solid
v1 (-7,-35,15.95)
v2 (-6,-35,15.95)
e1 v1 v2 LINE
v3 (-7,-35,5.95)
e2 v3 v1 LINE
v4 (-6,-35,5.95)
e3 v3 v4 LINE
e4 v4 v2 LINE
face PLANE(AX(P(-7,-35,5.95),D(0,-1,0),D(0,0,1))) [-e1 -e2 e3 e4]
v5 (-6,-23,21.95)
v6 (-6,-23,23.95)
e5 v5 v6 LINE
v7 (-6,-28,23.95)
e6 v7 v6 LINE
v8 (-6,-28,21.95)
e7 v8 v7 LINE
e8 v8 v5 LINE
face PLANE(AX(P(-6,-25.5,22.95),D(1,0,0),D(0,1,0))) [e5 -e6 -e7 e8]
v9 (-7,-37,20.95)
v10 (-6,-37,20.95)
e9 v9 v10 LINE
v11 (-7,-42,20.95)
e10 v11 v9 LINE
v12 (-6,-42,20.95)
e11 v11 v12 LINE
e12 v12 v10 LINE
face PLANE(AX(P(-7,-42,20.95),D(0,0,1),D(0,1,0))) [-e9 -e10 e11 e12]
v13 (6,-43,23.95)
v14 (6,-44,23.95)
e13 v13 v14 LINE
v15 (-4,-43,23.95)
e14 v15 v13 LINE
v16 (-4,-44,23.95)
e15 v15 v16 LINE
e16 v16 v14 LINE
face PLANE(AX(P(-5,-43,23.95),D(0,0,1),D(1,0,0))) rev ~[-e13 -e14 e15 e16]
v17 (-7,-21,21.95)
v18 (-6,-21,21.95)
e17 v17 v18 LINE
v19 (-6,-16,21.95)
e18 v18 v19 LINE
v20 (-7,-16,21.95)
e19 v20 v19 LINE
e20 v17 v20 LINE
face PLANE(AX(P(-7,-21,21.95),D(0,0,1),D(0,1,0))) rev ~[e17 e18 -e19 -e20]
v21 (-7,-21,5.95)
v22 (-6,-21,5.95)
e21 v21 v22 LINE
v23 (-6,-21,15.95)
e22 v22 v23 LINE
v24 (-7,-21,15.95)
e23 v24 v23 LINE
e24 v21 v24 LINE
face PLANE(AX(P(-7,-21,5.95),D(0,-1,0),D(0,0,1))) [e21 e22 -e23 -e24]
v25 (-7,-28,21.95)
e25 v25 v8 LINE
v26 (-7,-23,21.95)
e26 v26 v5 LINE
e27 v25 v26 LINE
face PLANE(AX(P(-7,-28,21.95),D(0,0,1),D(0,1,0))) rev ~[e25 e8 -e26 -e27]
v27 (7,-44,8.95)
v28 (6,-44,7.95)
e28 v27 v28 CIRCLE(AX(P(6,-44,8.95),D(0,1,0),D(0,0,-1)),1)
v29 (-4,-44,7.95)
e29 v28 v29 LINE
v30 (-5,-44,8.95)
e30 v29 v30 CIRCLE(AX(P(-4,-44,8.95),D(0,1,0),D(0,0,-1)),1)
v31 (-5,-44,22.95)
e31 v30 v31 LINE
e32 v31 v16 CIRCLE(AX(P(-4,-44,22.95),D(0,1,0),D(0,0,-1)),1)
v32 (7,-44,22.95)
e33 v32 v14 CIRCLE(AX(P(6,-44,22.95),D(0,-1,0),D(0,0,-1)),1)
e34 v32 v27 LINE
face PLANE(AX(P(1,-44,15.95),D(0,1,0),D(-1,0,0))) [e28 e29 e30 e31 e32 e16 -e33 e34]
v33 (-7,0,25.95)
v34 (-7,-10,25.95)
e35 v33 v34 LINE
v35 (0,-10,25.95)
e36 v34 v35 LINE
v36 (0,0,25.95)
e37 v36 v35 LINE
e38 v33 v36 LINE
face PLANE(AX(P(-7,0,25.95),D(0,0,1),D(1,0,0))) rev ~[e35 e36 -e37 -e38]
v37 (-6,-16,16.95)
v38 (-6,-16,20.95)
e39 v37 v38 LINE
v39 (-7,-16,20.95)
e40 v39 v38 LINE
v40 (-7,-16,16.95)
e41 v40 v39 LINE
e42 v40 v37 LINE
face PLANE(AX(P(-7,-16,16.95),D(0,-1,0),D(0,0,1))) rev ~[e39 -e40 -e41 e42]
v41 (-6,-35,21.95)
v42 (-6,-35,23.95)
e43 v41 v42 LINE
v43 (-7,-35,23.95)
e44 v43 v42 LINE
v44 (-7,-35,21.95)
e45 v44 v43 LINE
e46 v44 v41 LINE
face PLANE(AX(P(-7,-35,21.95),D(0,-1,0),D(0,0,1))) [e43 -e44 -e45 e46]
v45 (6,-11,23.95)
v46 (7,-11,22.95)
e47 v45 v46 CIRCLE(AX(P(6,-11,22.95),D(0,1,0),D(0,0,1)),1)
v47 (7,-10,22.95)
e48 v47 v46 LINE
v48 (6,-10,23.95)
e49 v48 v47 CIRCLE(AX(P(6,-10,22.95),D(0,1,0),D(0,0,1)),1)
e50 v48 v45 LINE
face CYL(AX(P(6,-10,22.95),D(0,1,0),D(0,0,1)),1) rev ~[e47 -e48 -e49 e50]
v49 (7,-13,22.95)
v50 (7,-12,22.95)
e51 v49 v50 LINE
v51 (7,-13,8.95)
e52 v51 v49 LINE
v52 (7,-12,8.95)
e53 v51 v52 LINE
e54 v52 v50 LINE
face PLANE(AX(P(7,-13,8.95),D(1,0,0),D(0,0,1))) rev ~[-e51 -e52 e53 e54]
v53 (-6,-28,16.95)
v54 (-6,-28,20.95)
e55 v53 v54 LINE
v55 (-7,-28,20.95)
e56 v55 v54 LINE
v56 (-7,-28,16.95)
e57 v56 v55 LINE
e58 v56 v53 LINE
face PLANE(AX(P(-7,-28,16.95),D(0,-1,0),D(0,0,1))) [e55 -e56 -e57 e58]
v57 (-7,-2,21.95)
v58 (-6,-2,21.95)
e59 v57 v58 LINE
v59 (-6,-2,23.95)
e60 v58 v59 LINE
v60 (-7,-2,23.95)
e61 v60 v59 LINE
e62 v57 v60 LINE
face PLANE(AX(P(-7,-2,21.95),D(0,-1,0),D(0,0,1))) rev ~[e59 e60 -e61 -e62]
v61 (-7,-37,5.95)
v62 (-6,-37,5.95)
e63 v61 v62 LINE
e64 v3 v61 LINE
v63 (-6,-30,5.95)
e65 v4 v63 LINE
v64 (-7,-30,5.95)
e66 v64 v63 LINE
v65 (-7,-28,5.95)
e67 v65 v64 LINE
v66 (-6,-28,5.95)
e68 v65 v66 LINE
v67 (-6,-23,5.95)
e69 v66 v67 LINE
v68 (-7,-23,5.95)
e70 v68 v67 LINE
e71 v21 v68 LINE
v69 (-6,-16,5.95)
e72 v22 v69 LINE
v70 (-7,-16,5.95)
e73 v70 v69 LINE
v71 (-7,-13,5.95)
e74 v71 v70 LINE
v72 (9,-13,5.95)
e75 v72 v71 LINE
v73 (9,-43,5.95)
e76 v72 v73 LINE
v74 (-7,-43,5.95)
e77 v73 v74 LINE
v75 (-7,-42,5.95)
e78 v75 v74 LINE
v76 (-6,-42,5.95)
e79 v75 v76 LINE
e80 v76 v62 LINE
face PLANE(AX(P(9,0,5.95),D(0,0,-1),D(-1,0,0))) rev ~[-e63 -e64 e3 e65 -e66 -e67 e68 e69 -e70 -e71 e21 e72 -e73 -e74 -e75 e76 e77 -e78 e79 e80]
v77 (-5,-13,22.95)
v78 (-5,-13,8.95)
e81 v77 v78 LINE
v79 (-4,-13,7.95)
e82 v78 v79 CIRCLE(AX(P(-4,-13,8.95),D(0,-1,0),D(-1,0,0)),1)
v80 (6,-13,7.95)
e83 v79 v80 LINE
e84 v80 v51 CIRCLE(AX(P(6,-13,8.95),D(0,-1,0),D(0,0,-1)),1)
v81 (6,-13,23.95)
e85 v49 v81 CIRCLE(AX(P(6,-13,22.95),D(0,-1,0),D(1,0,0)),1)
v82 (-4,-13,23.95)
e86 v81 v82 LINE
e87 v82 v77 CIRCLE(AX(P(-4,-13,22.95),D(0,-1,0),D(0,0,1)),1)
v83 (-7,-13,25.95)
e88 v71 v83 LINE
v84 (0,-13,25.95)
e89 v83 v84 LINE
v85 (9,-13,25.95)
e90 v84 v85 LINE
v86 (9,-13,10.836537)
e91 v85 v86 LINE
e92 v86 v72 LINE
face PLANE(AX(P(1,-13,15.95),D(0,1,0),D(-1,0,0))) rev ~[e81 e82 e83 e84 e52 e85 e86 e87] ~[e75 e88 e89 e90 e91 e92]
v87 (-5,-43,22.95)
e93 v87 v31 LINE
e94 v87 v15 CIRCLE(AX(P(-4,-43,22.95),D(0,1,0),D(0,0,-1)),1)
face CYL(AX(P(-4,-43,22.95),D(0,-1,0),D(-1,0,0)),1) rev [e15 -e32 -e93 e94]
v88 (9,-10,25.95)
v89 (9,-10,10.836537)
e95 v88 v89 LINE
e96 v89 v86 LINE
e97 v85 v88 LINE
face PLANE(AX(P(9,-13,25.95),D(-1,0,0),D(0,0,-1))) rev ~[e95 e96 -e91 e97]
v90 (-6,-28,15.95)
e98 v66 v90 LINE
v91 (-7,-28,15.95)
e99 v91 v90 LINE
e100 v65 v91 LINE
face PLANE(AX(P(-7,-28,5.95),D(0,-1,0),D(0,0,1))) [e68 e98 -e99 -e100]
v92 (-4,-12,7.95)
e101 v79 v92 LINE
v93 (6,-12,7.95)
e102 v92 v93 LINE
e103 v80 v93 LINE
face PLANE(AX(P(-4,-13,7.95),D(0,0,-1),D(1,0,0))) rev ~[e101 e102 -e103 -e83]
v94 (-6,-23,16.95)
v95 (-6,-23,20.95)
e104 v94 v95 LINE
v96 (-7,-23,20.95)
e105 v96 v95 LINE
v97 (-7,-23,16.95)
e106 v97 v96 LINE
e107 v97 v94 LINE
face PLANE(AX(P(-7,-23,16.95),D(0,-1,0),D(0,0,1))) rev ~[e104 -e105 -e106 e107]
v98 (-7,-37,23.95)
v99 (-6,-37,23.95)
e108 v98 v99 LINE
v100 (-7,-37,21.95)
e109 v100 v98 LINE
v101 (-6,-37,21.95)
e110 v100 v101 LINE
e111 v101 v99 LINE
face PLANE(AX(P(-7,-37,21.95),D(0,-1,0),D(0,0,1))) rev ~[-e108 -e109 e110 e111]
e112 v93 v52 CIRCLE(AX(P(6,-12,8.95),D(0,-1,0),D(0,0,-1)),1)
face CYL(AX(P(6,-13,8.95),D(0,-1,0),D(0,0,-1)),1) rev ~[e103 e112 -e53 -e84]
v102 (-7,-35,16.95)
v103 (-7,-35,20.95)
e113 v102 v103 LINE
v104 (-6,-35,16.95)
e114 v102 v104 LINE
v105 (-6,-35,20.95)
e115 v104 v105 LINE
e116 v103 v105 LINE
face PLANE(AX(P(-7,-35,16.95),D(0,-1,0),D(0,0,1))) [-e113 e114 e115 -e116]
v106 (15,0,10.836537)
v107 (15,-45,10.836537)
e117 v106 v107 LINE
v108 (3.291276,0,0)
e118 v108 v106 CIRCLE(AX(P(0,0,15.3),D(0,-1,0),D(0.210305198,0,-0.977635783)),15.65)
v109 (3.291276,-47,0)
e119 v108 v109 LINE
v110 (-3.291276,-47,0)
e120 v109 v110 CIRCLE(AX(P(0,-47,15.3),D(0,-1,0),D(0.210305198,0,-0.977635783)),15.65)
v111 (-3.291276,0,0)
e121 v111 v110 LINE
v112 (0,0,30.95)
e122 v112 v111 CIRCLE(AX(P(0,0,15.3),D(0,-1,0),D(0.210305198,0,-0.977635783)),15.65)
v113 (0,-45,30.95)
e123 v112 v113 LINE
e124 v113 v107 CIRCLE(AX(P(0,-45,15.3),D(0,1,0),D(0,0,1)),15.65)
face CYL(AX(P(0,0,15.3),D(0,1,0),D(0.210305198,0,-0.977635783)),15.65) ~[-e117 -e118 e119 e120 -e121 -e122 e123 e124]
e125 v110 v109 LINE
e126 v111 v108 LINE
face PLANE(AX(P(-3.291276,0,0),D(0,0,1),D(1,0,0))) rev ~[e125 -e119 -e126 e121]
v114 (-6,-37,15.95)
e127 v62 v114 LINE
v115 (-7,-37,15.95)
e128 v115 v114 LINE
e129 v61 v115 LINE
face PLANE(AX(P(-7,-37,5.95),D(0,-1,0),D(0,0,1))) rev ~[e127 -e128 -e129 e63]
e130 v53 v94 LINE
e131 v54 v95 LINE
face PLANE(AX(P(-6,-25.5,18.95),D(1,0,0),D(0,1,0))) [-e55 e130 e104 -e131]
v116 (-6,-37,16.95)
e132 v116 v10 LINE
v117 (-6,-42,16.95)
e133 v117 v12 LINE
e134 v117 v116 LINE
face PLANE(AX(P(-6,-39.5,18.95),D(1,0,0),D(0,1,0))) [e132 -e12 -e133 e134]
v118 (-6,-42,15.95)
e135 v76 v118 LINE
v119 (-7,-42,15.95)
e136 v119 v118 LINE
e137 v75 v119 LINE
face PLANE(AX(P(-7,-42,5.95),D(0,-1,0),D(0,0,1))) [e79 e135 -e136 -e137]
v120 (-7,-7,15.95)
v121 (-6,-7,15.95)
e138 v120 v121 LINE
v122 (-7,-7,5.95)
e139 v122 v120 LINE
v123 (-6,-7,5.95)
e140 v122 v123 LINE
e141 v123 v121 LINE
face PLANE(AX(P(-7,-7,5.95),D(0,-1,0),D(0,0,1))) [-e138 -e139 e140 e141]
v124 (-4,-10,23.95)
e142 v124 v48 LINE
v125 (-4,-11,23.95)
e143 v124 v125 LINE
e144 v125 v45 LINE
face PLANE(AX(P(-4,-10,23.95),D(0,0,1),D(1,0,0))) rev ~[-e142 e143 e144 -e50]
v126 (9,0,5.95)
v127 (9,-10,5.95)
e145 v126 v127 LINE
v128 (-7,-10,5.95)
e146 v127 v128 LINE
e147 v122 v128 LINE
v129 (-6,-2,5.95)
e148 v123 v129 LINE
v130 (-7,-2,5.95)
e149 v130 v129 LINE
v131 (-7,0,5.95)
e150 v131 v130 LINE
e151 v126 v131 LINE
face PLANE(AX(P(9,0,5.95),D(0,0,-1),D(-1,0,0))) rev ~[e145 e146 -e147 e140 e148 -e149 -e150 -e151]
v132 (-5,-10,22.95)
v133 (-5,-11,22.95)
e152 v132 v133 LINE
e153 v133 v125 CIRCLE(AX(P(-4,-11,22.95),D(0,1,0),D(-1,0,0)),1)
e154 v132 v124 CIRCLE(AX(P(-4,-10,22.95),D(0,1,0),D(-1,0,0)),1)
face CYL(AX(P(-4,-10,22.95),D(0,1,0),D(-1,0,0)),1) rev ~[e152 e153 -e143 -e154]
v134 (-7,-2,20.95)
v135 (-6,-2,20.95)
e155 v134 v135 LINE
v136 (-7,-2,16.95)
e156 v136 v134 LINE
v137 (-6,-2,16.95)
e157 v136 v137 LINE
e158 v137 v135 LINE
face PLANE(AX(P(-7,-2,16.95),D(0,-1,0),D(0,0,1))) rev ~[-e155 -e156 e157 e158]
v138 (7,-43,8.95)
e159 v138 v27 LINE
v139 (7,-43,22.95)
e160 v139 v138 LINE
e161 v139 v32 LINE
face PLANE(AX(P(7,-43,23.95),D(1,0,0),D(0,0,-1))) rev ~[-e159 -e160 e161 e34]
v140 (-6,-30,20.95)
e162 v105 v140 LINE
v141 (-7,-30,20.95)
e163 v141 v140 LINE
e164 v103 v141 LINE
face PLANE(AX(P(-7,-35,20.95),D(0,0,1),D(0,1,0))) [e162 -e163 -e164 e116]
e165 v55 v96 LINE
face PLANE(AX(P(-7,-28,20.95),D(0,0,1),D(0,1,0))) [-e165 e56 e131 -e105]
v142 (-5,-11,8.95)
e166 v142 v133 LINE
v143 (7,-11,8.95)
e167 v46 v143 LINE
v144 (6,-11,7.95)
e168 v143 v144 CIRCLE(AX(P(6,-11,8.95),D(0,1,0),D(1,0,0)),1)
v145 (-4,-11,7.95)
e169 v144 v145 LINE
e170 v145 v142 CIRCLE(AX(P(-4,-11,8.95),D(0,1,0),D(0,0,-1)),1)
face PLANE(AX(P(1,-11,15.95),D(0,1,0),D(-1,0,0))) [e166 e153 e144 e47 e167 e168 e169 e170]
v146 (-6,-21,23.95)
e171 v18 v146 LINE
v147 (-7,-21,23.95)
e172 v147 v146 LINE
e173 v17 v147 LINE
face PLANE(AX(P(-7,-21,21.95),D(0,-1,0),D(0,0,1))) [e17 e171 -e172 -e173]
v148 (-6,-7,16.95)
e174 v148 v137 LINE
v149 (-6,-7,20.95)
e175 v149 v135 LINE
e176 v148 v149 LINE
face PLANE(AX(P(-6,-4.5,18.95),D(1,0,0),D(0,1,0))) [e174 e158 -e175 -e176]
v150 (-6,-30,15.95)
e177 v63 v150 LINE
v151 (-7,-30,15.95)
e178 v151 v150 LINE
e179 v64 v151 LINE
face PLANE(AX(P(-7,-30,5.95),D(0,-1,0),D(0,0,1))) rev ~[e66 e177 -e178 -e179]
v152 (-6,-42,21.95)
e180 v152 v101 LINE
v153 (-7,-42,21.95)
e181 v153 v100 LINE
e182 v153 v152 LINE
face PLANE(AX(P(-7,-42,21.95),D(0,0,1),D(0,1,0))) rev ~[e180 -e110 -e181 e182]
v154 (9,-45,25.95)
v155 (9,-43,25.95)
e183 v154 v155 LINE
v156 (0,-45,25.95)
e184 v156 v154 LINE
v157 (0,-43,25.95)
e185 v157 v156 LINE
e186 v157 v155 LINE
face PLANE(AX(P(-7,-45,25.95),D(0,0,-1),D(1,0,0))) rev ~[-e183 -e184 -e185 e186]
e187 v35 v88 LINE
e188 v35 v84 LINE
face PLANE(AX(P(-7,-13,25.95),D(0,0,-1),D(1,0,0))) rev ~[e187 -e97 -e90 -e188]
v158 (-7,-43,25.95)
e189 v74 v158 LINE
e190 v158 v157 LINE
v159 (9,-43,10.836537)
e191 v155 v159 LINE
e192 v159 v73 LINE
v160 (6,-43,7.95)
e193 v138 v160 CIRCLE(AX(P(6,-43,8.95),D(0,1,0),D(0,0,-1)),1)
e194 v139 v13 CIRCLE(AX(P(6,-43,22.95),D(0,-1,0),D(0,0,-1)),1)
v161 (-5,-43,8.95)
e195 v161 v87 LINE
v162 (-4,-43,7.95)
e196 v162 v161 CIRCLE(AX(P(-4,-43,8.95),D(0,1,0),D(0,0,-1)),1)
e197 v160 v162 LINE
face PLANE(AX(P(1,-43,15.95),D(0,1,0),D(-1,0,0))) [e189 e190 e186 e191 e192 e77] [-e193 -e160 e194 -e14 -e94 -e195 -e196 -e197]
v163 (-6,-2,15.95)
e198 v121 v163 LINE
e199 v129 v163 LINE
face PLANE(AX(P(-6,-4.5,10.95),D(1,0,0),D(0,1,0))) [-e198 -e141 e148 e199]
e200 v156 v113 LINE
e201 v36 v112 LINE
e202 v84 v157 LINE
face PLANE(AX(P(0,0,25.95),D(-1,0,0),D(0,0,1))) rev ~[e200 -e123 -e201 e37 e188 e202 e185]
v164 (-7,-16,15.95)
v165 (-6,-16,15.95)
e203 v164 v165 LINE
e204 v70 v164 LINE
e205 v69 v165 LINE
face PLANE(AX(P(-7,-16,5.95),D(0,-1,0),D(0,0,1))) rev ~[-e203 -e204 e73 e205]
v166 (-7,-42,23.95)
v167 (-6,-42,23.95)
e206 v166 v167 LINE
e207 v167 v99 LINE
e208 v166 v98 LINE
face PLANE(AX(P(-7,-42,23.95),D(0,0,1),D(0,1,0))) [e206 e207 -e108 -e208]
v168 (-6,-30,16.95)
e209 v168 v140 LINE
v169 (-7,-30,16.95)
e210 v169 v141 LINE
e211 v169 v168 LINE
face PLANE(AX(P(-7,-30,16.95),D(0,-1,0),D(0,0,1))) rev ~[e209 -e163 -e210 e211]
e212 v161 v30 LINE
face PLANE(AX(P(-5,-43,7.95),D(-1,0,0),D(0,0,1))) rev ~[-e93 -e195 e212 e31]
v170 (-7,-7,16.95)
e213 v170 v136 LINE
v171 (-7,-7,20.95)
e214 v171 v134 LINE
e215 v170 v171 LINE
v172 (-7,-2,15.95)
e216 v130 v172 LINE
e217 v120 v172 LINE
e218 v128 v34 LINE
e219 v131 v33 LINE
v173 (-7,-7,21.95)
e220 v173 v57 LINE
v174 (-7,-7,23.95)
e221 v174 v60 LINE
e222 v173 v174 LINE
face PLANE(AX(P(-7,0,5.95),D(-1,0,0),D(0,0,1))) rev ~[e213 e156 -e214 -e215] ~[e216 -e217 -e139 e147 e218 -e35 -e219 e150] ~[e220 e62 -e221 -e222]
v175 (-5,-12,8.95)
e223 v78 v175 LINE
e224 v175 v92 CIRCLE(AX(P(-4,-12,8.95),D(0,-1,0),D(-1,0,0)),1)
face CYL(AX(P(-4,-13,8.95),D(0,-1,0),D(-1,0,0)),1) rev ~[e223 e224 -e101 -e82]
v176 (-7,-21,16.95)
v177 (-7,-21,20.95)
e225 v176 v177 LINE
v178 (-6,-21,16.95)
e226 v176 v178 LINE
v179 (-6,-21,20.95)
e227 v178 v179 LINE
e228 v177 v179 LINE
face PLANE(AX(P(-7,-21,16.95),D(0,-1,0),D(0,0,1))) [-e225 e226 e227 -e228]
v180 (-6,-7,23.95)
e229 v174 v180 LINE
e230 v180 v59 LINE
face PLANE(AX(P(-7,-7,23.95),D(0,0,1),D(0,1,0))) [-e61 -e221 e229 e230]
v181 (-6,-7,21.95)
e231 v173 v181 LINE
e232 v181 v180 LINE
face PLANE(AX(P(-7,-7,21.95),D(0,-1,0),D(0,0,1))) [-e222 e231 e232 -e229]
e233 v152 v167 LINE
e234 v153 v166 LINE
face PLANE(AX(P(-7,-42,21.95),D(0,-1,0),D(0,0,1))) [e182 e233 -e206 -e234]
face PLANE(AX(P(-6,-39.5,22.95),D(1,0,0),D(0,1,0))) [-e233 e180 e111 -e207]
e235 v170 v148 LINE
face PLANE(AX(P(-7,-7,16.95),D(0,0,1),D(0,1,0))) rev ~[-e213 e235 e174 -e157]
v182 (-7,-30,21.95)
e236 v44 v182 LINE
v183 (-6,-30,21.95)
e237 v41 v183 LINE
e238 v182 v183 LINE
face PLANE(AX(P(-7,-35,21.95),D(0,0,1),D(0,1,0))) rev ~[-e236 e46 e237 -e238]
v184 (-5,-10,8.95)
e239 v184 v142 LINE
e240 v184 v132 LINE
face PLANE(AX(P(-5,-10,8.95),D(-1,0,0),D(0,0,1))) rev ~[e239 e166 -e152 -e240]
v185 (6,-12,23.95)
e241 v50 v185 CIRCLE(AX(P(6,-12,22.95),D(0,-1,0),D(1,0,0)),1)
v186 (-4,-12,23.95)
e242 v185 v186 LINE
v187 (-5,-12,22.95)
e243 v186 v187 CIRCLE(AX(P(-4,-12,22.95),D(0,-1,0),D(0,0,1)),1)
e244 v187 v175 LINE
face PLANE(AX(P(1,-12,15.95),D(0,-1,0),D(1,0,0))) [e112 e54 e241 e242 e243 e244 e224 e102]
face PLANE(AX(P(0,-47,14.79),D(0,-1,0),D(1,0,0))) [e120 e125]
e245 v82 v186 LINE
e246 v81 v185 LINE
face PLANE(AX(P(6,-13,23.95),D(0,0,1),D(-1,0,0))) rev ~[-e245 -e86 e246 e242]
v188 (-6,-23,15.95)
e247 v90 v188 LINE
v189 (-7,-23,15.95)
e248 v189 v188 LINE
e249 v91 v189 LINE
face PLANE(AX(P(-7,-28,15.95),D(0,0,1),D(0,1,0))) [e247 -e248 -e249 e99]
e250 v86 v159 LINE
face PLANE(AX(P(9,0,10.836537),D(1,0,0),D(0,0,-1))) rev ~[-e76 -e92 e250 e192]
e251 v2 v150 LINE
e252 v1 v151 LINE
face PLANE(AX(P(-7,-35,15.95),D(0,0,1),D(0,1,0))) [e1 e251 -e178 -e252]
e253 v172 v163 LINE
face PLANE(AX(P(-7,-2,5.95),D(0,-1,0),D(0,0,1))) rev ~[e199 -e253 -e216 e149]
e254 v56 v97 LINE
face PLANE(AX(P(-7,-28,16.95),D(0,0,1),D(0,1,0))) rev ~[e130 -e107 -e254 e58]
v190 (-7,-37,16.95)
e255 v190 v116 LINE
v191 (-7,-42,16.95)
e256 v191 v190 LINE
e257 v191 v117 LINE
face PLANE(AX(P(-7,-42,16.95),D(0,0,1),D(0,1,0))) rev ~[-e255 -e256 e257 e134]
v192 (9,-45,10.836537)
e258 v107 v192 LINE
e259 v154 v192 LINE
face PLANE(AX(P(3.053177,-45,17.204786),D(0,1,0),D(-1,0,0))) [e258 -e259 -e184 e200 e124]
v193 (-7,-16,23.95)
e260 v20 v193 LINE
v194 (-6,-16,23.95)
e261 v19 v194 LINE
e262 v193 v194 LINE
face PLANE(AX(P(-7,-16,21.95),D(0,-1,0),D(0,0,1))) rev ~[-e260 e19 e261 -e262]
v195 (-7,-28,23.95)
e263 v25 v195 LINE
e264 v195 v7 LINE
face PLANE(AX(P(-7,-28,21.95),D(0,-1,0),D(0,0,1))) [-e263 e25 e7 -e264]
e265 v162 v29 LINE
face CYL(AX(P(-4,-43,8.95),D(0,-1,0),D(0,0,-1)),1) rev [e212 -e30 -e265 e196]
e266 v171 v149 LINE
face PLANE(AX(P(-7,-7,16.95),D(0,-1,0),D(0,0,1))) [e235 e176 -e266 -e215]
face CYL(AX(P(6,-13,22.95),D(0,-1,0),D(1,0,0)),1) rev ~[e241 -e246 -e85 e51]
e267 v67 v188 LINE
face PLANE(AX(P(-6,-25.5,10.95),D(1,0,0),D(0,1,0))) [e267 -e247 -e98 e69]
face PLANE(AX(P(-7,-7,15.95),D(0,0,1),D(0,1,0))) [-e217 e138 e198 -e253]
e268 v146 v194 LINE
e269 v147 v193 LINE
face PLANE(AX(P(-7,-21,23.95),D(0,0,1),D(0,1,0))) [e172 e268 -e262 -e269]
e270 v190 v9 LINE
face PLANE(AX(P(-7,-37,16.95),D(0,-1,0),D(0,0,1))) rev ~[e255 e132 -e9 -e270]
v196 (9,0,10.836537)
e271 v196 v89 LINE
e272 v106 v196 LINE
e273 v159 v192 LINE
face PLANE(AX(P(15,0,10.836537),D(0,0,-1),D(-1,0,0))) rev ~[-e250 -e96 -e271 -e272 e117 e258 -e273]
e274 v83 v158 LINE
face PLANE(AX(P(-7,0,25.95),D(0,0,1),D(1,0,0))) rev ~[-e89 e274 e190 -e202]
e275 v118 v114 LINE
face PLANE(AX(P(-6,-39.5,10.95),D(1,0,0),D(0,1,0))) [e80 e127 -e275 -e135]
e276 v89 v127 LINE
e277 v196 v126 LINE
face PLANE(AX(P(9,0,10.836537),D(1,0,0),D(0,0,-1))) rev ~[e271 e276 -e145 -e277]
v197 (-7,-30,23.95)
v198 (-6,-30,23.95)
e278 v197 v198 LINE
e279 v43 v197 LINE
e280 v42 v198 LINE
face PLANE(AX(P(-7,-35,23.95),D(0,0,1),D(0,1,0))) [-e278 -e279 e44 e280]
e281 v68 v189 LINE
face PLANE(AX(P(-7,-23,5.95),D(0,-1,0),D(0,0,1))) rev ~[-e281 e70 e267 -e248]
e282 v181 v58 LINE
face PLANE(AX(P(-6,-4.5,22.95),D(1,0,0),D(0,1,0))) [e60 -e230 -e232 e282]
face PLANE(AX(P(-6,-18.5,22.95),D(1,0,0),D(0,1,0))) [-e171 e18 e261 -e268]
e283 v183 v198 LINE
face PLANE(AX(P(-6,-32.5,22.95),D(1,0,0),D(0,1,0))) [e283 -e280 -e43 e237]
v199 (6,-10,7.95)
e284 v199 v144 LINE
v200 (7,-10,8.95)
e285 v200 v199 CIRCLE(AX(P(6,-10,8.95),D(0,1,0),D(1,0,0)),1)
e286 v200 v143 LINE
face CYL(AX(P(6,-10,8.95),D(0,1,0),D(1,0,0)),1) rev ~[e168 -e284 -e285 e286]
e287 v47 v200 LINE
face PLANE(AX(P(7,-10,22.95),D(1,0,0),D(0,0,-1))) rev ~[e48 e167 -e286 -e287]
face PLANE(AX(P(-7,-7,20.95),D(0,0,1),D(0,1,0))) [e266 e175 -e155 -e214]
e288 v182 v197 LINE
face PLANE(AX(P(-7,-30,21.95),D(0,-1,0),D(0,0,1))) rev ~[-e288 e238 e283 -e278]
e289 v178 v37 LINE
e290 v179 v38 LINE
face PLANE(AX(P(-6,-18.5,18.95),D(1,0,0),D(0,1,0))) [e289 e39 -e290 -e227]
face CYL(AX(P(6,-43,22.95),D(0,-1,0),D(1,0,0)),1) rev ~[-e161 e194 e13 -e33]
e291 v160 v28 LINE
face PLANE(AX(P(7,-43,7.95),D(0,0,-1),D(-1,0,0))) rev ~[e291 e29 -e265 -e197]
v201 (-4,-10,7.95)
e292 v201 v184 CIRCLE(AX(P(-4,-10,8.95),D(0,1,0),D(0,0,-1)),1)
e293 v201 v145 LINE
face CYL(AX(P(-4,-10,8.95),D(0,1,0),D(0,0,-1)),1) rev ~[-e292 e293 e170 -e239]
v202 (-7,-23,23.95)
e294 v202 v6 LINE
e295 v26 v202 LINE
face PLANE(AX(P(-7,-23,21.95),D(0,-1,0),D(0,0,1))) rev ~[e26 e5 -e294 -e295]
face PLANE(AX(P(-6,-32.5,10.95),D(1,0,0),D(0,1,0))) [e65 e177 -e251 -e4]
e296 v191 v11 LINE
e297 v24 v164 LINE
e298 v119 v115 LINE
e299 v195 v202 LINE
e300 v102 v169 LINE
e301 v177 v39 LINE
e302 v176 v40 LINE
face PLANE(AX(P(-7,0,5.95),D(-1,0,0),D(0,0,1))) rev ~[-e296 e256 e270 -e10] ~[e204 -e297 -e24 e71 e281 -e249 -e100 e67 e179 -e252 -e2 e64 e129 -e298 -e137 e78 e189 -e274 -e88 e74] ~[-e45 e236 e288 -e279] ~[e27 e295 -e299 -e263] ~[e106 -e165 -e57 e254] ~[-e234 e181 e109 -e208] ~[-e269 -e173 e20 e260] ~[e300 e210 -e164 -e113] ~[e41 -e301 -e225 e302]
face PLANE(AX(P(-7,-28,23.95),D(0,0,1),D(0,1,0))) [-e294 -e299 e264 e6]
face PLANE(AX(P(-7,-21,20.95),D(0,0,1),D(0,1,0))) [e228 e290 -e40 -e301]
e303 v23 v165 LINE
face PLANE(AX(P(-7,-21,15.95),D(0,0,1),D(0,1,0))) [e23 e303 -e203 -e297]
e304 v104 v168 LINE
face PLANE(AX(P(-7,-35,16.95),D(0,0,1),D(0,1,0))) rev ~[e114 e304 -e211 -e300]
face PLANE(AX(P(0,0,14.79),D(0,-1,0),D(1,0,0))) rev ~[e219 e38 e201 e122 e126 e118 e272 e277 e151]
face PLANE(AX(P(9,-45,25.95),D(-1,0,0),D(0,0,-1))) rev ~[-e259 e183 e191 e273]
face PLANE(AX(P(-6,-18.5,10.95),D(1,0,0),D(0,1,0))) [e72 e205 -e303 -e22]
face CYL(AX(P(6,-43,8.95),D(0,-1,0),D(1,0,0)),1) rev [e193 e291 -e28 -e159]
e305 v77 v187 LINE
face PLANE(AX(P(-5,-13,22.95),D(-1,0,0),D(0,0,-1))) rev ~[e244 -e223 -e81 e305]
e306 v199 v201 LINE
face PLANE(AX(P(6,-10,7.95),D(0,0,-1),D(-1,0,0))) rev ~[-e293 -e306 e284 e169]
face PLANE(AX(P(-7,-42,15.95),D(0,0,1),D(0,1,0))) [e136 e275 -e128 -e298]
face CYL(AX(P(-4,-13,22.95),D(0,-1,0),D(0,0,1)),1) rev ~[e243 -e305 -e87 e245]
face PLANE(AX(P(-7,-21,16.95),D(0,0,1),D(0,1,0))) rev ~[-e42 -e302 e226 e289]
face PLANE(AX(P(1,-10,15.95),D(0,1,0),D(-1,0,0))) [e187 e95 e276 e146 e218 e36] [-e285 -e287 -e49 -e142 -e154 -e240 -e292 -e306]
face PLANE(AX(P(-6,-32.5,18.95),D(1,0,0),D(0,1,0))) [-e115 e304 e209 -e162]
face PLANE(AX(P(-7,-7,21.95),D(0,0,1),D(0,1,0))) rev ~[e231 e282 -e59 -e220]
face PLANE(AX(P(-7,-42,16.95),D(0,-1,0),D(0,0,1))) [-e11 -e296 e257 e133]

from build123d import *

# Parameters (mm, degrees)
F1_DEPTH  = 47
F3_DEPTH  = 45
F5_DEPTH  = 2
F7_DEPTH  = 1
F8_R      = 1
F9_W      = 5
F9_H      = 10
F9_H_2    = 4
F9_H_3    = 2
F10_DEPTH = 1
F13_DEPTH = 3
F15_DEPTH = 1
F17_DEPTH = 1


with BuildPart() as f1:
    # F0 (on Front) → F1 (new body)
    with BuildSketch(Plane.XZ):
        with BuildLine():
            Line((-3.2912763482, 0), (3.2912763482, 0))
            ThreePointArc((3.2912763482, 0), (0, 30.95), (-3.2912763482, 0))
        make_face()
    extrude(amount=F1_DEPTH)

    # F2 (on face) → F3 (cut)
    with BuildSketch(Plane(origin=(0, 0, 0), x_dir=(-1, 0, 0), z_dir=(0, 1, 0))):
        with BuildLine():
            Line((0, 25.95), (0, 30.95))
            ThreePointArc((0, 30.95), (-12.5454312905, 24.6559956037), (-15, 10.8365372187))
            Line((-15, 10.8365372187), (-9, 10.8365372187))
            Line((-9, 10.8365372187), (-9, 5.95))
            Line((-9, 5.95), (7, 5.95))
            Line((7, 5.95), (7, 25.95))
            Line((7, 25.95), (0, 25.95))
        make_face()
    extrude(amount=-F3_DEPTH, mode=Mode.SUBTRACT)

    # F4 (on face) → F5 (join)
    with BuildSketch(Plane(origin=(0, -45, 0), x_dir=(-1, 0, 0), z_dir=(0, 1, 0))):
        Polygon((-9, 25.95), (-9, 10.8365372187), (-9, 5.95), (7, 5.95), (7, 25.95), (0, 25.95), align=None)
    extrude(amount=F5_DEPTH)

    # F6 (on face) → F7 (cut)
    with BuildSketch(Plane(origin=(0, -43, 0), x_dir=(-1, 0, 0), z_dir=(0, 1, 0))):
        Polygon((0, 23.95), (-7, 23.95), (-7, 7.95), (5, 7.95), (5, 23.95), align=None)
    extrude(amount=-F7_DEPTH, mode=Mode.SUBTRACT)

    # F8
    f8_edges = [f1.edges().sort_by_distance(p)[0] for p in [
        (7, -43.5, 23.95),
        (-5, -43.5, 23.95),
        (7, -43.5, 7.95),
        (-5, -43.5, 7.95),
    ]]
    fillet(f8_edges, radius=F8_R)

    # F9 (on face) → F10 (join)
    with BuildSketch(Plane.YZ.offset(-7)):
        with Locations((-39.5, 10.95)):
            Rectangle(F9_W, F9_H)
        with Locations((-39.5, 18.95)):
            Rectangle(F9_W, F9_H_2)
        with Locations((-39.5, 22.95)):
            Rectangle(F9_W, F9_H_3)
        with Locations((-32.5, 22.95)):
            Rectangle(F9_W, F9_H_3)
        with Locations((-32.5, 18.95)):
            Rectangle(F9_W, F9_H_2)
        with Locations((-32.5, 10.95)):
            Rectangle(F9_W, F9_H)
        with Locations((-25.5, 22.95)):
            Rectangle(F9_W, F9_H_3)
        with Locations((-25.5, 18.95)):
            Rectangle(F9_W, F9_H_2)
        with Locations((-25.5, 10.95)):
            Rectangle(F9_W, F9_H)
        with Locations((-18.5, 22.95)):
            Rectangle(F9_W, F9_H_3)
        with Locations((-18.5, 18.95)):
            Rectangle(F9_W, F9_H_2)
        with Locations((-18.5, 10.95)):
            Rectangle(F9_W, F9_H)
        with Locations((-4.5, 22.95)):
            Rectangle(F9_W, F9_H_3)
        with Locations((-4.5, 18.95)):
            Rectangle(F9_W, F9_H_2)
        with Locations((-4.5, 10.95)):
            Rectangle(F9_W, F9_H)
    extrude(amount=F10_DEPTH)

    # F12 (on offset) → F13 (join)
    with BuildSketch(Plane(origin=(0, -13, 0), x_dir=(-1, 0, 0), z_dir=(0, 1, 0))):
        Polygon((7, 25.95), (0, 25.95), (-9, 25.95), (-9, 10.8365372187), (-9, 5.95), (7, 5.95), align=None)
    extrude(amount=F13_DEPTH)

    # F14 (on face) → F15 (cut)
    with BuildSketch(Plane(origin=(0, -10, 0), x_dir=(-1, 0, 0), z_dir=(0, 1, 0))):
        with BuildLine():
            ThreePointArc((4, 7.95), (4.7071067812, 8.2428932188), (5, 8.95))
            Line((5, 8.95), (5, 22.95))
            ThreePointArc((5, 22.95), (4.7071067812, 23.6571067812), (4, 23.95))
            Line((4, 23.95), (-6, 23.95))
            ThreePointArc((-6, 23.95), (-6.7071067812, 23.6571067812), (-7, 22.95))
            Line((-7, 22.95), (-7, 8.95))
            ThreePointArc((-7, 8.95), (-6.7071067812, 8.2428932188), (-6, 7.95))
            Line((-6, 7.95), (4, 7.95))
        make_face()
    extrude(amount=-F15_DEPTH, mode=Mode.SUBTRACT)

    # F16 (on face) → F17 (cut)
    with BuildSketch(Plane.XZ.offset(13)):
        with BuildLine():
            Line((-4, 7.95), (6, 7.95))
            ThreePointArc((6, 7.95), (6.7071067812, 8.2428932188), (7, 8.95))
            Line((7, 8.95), (7, 22.95))
            ThreePointArc((7, 22.95), (6.7071067812, 23.6571067812), (6, 23.95))
            Line((6, 23.95), (-4, 23.95))
            ThreePointArc((-4, 23.95), (-4.7071067812, 23.6571067812), (-5, 22.95))
            Line((-5, 22.95), (-5, 8.95))
            ThreePointArc((-5, 8.95), (-4.7071067812, 8.2428932188), (-4, 7.95))
        make_face()
    extrude(amount=-F17_DEPTH, mode=Mode.SUBTRACT)


solid = f1.part
